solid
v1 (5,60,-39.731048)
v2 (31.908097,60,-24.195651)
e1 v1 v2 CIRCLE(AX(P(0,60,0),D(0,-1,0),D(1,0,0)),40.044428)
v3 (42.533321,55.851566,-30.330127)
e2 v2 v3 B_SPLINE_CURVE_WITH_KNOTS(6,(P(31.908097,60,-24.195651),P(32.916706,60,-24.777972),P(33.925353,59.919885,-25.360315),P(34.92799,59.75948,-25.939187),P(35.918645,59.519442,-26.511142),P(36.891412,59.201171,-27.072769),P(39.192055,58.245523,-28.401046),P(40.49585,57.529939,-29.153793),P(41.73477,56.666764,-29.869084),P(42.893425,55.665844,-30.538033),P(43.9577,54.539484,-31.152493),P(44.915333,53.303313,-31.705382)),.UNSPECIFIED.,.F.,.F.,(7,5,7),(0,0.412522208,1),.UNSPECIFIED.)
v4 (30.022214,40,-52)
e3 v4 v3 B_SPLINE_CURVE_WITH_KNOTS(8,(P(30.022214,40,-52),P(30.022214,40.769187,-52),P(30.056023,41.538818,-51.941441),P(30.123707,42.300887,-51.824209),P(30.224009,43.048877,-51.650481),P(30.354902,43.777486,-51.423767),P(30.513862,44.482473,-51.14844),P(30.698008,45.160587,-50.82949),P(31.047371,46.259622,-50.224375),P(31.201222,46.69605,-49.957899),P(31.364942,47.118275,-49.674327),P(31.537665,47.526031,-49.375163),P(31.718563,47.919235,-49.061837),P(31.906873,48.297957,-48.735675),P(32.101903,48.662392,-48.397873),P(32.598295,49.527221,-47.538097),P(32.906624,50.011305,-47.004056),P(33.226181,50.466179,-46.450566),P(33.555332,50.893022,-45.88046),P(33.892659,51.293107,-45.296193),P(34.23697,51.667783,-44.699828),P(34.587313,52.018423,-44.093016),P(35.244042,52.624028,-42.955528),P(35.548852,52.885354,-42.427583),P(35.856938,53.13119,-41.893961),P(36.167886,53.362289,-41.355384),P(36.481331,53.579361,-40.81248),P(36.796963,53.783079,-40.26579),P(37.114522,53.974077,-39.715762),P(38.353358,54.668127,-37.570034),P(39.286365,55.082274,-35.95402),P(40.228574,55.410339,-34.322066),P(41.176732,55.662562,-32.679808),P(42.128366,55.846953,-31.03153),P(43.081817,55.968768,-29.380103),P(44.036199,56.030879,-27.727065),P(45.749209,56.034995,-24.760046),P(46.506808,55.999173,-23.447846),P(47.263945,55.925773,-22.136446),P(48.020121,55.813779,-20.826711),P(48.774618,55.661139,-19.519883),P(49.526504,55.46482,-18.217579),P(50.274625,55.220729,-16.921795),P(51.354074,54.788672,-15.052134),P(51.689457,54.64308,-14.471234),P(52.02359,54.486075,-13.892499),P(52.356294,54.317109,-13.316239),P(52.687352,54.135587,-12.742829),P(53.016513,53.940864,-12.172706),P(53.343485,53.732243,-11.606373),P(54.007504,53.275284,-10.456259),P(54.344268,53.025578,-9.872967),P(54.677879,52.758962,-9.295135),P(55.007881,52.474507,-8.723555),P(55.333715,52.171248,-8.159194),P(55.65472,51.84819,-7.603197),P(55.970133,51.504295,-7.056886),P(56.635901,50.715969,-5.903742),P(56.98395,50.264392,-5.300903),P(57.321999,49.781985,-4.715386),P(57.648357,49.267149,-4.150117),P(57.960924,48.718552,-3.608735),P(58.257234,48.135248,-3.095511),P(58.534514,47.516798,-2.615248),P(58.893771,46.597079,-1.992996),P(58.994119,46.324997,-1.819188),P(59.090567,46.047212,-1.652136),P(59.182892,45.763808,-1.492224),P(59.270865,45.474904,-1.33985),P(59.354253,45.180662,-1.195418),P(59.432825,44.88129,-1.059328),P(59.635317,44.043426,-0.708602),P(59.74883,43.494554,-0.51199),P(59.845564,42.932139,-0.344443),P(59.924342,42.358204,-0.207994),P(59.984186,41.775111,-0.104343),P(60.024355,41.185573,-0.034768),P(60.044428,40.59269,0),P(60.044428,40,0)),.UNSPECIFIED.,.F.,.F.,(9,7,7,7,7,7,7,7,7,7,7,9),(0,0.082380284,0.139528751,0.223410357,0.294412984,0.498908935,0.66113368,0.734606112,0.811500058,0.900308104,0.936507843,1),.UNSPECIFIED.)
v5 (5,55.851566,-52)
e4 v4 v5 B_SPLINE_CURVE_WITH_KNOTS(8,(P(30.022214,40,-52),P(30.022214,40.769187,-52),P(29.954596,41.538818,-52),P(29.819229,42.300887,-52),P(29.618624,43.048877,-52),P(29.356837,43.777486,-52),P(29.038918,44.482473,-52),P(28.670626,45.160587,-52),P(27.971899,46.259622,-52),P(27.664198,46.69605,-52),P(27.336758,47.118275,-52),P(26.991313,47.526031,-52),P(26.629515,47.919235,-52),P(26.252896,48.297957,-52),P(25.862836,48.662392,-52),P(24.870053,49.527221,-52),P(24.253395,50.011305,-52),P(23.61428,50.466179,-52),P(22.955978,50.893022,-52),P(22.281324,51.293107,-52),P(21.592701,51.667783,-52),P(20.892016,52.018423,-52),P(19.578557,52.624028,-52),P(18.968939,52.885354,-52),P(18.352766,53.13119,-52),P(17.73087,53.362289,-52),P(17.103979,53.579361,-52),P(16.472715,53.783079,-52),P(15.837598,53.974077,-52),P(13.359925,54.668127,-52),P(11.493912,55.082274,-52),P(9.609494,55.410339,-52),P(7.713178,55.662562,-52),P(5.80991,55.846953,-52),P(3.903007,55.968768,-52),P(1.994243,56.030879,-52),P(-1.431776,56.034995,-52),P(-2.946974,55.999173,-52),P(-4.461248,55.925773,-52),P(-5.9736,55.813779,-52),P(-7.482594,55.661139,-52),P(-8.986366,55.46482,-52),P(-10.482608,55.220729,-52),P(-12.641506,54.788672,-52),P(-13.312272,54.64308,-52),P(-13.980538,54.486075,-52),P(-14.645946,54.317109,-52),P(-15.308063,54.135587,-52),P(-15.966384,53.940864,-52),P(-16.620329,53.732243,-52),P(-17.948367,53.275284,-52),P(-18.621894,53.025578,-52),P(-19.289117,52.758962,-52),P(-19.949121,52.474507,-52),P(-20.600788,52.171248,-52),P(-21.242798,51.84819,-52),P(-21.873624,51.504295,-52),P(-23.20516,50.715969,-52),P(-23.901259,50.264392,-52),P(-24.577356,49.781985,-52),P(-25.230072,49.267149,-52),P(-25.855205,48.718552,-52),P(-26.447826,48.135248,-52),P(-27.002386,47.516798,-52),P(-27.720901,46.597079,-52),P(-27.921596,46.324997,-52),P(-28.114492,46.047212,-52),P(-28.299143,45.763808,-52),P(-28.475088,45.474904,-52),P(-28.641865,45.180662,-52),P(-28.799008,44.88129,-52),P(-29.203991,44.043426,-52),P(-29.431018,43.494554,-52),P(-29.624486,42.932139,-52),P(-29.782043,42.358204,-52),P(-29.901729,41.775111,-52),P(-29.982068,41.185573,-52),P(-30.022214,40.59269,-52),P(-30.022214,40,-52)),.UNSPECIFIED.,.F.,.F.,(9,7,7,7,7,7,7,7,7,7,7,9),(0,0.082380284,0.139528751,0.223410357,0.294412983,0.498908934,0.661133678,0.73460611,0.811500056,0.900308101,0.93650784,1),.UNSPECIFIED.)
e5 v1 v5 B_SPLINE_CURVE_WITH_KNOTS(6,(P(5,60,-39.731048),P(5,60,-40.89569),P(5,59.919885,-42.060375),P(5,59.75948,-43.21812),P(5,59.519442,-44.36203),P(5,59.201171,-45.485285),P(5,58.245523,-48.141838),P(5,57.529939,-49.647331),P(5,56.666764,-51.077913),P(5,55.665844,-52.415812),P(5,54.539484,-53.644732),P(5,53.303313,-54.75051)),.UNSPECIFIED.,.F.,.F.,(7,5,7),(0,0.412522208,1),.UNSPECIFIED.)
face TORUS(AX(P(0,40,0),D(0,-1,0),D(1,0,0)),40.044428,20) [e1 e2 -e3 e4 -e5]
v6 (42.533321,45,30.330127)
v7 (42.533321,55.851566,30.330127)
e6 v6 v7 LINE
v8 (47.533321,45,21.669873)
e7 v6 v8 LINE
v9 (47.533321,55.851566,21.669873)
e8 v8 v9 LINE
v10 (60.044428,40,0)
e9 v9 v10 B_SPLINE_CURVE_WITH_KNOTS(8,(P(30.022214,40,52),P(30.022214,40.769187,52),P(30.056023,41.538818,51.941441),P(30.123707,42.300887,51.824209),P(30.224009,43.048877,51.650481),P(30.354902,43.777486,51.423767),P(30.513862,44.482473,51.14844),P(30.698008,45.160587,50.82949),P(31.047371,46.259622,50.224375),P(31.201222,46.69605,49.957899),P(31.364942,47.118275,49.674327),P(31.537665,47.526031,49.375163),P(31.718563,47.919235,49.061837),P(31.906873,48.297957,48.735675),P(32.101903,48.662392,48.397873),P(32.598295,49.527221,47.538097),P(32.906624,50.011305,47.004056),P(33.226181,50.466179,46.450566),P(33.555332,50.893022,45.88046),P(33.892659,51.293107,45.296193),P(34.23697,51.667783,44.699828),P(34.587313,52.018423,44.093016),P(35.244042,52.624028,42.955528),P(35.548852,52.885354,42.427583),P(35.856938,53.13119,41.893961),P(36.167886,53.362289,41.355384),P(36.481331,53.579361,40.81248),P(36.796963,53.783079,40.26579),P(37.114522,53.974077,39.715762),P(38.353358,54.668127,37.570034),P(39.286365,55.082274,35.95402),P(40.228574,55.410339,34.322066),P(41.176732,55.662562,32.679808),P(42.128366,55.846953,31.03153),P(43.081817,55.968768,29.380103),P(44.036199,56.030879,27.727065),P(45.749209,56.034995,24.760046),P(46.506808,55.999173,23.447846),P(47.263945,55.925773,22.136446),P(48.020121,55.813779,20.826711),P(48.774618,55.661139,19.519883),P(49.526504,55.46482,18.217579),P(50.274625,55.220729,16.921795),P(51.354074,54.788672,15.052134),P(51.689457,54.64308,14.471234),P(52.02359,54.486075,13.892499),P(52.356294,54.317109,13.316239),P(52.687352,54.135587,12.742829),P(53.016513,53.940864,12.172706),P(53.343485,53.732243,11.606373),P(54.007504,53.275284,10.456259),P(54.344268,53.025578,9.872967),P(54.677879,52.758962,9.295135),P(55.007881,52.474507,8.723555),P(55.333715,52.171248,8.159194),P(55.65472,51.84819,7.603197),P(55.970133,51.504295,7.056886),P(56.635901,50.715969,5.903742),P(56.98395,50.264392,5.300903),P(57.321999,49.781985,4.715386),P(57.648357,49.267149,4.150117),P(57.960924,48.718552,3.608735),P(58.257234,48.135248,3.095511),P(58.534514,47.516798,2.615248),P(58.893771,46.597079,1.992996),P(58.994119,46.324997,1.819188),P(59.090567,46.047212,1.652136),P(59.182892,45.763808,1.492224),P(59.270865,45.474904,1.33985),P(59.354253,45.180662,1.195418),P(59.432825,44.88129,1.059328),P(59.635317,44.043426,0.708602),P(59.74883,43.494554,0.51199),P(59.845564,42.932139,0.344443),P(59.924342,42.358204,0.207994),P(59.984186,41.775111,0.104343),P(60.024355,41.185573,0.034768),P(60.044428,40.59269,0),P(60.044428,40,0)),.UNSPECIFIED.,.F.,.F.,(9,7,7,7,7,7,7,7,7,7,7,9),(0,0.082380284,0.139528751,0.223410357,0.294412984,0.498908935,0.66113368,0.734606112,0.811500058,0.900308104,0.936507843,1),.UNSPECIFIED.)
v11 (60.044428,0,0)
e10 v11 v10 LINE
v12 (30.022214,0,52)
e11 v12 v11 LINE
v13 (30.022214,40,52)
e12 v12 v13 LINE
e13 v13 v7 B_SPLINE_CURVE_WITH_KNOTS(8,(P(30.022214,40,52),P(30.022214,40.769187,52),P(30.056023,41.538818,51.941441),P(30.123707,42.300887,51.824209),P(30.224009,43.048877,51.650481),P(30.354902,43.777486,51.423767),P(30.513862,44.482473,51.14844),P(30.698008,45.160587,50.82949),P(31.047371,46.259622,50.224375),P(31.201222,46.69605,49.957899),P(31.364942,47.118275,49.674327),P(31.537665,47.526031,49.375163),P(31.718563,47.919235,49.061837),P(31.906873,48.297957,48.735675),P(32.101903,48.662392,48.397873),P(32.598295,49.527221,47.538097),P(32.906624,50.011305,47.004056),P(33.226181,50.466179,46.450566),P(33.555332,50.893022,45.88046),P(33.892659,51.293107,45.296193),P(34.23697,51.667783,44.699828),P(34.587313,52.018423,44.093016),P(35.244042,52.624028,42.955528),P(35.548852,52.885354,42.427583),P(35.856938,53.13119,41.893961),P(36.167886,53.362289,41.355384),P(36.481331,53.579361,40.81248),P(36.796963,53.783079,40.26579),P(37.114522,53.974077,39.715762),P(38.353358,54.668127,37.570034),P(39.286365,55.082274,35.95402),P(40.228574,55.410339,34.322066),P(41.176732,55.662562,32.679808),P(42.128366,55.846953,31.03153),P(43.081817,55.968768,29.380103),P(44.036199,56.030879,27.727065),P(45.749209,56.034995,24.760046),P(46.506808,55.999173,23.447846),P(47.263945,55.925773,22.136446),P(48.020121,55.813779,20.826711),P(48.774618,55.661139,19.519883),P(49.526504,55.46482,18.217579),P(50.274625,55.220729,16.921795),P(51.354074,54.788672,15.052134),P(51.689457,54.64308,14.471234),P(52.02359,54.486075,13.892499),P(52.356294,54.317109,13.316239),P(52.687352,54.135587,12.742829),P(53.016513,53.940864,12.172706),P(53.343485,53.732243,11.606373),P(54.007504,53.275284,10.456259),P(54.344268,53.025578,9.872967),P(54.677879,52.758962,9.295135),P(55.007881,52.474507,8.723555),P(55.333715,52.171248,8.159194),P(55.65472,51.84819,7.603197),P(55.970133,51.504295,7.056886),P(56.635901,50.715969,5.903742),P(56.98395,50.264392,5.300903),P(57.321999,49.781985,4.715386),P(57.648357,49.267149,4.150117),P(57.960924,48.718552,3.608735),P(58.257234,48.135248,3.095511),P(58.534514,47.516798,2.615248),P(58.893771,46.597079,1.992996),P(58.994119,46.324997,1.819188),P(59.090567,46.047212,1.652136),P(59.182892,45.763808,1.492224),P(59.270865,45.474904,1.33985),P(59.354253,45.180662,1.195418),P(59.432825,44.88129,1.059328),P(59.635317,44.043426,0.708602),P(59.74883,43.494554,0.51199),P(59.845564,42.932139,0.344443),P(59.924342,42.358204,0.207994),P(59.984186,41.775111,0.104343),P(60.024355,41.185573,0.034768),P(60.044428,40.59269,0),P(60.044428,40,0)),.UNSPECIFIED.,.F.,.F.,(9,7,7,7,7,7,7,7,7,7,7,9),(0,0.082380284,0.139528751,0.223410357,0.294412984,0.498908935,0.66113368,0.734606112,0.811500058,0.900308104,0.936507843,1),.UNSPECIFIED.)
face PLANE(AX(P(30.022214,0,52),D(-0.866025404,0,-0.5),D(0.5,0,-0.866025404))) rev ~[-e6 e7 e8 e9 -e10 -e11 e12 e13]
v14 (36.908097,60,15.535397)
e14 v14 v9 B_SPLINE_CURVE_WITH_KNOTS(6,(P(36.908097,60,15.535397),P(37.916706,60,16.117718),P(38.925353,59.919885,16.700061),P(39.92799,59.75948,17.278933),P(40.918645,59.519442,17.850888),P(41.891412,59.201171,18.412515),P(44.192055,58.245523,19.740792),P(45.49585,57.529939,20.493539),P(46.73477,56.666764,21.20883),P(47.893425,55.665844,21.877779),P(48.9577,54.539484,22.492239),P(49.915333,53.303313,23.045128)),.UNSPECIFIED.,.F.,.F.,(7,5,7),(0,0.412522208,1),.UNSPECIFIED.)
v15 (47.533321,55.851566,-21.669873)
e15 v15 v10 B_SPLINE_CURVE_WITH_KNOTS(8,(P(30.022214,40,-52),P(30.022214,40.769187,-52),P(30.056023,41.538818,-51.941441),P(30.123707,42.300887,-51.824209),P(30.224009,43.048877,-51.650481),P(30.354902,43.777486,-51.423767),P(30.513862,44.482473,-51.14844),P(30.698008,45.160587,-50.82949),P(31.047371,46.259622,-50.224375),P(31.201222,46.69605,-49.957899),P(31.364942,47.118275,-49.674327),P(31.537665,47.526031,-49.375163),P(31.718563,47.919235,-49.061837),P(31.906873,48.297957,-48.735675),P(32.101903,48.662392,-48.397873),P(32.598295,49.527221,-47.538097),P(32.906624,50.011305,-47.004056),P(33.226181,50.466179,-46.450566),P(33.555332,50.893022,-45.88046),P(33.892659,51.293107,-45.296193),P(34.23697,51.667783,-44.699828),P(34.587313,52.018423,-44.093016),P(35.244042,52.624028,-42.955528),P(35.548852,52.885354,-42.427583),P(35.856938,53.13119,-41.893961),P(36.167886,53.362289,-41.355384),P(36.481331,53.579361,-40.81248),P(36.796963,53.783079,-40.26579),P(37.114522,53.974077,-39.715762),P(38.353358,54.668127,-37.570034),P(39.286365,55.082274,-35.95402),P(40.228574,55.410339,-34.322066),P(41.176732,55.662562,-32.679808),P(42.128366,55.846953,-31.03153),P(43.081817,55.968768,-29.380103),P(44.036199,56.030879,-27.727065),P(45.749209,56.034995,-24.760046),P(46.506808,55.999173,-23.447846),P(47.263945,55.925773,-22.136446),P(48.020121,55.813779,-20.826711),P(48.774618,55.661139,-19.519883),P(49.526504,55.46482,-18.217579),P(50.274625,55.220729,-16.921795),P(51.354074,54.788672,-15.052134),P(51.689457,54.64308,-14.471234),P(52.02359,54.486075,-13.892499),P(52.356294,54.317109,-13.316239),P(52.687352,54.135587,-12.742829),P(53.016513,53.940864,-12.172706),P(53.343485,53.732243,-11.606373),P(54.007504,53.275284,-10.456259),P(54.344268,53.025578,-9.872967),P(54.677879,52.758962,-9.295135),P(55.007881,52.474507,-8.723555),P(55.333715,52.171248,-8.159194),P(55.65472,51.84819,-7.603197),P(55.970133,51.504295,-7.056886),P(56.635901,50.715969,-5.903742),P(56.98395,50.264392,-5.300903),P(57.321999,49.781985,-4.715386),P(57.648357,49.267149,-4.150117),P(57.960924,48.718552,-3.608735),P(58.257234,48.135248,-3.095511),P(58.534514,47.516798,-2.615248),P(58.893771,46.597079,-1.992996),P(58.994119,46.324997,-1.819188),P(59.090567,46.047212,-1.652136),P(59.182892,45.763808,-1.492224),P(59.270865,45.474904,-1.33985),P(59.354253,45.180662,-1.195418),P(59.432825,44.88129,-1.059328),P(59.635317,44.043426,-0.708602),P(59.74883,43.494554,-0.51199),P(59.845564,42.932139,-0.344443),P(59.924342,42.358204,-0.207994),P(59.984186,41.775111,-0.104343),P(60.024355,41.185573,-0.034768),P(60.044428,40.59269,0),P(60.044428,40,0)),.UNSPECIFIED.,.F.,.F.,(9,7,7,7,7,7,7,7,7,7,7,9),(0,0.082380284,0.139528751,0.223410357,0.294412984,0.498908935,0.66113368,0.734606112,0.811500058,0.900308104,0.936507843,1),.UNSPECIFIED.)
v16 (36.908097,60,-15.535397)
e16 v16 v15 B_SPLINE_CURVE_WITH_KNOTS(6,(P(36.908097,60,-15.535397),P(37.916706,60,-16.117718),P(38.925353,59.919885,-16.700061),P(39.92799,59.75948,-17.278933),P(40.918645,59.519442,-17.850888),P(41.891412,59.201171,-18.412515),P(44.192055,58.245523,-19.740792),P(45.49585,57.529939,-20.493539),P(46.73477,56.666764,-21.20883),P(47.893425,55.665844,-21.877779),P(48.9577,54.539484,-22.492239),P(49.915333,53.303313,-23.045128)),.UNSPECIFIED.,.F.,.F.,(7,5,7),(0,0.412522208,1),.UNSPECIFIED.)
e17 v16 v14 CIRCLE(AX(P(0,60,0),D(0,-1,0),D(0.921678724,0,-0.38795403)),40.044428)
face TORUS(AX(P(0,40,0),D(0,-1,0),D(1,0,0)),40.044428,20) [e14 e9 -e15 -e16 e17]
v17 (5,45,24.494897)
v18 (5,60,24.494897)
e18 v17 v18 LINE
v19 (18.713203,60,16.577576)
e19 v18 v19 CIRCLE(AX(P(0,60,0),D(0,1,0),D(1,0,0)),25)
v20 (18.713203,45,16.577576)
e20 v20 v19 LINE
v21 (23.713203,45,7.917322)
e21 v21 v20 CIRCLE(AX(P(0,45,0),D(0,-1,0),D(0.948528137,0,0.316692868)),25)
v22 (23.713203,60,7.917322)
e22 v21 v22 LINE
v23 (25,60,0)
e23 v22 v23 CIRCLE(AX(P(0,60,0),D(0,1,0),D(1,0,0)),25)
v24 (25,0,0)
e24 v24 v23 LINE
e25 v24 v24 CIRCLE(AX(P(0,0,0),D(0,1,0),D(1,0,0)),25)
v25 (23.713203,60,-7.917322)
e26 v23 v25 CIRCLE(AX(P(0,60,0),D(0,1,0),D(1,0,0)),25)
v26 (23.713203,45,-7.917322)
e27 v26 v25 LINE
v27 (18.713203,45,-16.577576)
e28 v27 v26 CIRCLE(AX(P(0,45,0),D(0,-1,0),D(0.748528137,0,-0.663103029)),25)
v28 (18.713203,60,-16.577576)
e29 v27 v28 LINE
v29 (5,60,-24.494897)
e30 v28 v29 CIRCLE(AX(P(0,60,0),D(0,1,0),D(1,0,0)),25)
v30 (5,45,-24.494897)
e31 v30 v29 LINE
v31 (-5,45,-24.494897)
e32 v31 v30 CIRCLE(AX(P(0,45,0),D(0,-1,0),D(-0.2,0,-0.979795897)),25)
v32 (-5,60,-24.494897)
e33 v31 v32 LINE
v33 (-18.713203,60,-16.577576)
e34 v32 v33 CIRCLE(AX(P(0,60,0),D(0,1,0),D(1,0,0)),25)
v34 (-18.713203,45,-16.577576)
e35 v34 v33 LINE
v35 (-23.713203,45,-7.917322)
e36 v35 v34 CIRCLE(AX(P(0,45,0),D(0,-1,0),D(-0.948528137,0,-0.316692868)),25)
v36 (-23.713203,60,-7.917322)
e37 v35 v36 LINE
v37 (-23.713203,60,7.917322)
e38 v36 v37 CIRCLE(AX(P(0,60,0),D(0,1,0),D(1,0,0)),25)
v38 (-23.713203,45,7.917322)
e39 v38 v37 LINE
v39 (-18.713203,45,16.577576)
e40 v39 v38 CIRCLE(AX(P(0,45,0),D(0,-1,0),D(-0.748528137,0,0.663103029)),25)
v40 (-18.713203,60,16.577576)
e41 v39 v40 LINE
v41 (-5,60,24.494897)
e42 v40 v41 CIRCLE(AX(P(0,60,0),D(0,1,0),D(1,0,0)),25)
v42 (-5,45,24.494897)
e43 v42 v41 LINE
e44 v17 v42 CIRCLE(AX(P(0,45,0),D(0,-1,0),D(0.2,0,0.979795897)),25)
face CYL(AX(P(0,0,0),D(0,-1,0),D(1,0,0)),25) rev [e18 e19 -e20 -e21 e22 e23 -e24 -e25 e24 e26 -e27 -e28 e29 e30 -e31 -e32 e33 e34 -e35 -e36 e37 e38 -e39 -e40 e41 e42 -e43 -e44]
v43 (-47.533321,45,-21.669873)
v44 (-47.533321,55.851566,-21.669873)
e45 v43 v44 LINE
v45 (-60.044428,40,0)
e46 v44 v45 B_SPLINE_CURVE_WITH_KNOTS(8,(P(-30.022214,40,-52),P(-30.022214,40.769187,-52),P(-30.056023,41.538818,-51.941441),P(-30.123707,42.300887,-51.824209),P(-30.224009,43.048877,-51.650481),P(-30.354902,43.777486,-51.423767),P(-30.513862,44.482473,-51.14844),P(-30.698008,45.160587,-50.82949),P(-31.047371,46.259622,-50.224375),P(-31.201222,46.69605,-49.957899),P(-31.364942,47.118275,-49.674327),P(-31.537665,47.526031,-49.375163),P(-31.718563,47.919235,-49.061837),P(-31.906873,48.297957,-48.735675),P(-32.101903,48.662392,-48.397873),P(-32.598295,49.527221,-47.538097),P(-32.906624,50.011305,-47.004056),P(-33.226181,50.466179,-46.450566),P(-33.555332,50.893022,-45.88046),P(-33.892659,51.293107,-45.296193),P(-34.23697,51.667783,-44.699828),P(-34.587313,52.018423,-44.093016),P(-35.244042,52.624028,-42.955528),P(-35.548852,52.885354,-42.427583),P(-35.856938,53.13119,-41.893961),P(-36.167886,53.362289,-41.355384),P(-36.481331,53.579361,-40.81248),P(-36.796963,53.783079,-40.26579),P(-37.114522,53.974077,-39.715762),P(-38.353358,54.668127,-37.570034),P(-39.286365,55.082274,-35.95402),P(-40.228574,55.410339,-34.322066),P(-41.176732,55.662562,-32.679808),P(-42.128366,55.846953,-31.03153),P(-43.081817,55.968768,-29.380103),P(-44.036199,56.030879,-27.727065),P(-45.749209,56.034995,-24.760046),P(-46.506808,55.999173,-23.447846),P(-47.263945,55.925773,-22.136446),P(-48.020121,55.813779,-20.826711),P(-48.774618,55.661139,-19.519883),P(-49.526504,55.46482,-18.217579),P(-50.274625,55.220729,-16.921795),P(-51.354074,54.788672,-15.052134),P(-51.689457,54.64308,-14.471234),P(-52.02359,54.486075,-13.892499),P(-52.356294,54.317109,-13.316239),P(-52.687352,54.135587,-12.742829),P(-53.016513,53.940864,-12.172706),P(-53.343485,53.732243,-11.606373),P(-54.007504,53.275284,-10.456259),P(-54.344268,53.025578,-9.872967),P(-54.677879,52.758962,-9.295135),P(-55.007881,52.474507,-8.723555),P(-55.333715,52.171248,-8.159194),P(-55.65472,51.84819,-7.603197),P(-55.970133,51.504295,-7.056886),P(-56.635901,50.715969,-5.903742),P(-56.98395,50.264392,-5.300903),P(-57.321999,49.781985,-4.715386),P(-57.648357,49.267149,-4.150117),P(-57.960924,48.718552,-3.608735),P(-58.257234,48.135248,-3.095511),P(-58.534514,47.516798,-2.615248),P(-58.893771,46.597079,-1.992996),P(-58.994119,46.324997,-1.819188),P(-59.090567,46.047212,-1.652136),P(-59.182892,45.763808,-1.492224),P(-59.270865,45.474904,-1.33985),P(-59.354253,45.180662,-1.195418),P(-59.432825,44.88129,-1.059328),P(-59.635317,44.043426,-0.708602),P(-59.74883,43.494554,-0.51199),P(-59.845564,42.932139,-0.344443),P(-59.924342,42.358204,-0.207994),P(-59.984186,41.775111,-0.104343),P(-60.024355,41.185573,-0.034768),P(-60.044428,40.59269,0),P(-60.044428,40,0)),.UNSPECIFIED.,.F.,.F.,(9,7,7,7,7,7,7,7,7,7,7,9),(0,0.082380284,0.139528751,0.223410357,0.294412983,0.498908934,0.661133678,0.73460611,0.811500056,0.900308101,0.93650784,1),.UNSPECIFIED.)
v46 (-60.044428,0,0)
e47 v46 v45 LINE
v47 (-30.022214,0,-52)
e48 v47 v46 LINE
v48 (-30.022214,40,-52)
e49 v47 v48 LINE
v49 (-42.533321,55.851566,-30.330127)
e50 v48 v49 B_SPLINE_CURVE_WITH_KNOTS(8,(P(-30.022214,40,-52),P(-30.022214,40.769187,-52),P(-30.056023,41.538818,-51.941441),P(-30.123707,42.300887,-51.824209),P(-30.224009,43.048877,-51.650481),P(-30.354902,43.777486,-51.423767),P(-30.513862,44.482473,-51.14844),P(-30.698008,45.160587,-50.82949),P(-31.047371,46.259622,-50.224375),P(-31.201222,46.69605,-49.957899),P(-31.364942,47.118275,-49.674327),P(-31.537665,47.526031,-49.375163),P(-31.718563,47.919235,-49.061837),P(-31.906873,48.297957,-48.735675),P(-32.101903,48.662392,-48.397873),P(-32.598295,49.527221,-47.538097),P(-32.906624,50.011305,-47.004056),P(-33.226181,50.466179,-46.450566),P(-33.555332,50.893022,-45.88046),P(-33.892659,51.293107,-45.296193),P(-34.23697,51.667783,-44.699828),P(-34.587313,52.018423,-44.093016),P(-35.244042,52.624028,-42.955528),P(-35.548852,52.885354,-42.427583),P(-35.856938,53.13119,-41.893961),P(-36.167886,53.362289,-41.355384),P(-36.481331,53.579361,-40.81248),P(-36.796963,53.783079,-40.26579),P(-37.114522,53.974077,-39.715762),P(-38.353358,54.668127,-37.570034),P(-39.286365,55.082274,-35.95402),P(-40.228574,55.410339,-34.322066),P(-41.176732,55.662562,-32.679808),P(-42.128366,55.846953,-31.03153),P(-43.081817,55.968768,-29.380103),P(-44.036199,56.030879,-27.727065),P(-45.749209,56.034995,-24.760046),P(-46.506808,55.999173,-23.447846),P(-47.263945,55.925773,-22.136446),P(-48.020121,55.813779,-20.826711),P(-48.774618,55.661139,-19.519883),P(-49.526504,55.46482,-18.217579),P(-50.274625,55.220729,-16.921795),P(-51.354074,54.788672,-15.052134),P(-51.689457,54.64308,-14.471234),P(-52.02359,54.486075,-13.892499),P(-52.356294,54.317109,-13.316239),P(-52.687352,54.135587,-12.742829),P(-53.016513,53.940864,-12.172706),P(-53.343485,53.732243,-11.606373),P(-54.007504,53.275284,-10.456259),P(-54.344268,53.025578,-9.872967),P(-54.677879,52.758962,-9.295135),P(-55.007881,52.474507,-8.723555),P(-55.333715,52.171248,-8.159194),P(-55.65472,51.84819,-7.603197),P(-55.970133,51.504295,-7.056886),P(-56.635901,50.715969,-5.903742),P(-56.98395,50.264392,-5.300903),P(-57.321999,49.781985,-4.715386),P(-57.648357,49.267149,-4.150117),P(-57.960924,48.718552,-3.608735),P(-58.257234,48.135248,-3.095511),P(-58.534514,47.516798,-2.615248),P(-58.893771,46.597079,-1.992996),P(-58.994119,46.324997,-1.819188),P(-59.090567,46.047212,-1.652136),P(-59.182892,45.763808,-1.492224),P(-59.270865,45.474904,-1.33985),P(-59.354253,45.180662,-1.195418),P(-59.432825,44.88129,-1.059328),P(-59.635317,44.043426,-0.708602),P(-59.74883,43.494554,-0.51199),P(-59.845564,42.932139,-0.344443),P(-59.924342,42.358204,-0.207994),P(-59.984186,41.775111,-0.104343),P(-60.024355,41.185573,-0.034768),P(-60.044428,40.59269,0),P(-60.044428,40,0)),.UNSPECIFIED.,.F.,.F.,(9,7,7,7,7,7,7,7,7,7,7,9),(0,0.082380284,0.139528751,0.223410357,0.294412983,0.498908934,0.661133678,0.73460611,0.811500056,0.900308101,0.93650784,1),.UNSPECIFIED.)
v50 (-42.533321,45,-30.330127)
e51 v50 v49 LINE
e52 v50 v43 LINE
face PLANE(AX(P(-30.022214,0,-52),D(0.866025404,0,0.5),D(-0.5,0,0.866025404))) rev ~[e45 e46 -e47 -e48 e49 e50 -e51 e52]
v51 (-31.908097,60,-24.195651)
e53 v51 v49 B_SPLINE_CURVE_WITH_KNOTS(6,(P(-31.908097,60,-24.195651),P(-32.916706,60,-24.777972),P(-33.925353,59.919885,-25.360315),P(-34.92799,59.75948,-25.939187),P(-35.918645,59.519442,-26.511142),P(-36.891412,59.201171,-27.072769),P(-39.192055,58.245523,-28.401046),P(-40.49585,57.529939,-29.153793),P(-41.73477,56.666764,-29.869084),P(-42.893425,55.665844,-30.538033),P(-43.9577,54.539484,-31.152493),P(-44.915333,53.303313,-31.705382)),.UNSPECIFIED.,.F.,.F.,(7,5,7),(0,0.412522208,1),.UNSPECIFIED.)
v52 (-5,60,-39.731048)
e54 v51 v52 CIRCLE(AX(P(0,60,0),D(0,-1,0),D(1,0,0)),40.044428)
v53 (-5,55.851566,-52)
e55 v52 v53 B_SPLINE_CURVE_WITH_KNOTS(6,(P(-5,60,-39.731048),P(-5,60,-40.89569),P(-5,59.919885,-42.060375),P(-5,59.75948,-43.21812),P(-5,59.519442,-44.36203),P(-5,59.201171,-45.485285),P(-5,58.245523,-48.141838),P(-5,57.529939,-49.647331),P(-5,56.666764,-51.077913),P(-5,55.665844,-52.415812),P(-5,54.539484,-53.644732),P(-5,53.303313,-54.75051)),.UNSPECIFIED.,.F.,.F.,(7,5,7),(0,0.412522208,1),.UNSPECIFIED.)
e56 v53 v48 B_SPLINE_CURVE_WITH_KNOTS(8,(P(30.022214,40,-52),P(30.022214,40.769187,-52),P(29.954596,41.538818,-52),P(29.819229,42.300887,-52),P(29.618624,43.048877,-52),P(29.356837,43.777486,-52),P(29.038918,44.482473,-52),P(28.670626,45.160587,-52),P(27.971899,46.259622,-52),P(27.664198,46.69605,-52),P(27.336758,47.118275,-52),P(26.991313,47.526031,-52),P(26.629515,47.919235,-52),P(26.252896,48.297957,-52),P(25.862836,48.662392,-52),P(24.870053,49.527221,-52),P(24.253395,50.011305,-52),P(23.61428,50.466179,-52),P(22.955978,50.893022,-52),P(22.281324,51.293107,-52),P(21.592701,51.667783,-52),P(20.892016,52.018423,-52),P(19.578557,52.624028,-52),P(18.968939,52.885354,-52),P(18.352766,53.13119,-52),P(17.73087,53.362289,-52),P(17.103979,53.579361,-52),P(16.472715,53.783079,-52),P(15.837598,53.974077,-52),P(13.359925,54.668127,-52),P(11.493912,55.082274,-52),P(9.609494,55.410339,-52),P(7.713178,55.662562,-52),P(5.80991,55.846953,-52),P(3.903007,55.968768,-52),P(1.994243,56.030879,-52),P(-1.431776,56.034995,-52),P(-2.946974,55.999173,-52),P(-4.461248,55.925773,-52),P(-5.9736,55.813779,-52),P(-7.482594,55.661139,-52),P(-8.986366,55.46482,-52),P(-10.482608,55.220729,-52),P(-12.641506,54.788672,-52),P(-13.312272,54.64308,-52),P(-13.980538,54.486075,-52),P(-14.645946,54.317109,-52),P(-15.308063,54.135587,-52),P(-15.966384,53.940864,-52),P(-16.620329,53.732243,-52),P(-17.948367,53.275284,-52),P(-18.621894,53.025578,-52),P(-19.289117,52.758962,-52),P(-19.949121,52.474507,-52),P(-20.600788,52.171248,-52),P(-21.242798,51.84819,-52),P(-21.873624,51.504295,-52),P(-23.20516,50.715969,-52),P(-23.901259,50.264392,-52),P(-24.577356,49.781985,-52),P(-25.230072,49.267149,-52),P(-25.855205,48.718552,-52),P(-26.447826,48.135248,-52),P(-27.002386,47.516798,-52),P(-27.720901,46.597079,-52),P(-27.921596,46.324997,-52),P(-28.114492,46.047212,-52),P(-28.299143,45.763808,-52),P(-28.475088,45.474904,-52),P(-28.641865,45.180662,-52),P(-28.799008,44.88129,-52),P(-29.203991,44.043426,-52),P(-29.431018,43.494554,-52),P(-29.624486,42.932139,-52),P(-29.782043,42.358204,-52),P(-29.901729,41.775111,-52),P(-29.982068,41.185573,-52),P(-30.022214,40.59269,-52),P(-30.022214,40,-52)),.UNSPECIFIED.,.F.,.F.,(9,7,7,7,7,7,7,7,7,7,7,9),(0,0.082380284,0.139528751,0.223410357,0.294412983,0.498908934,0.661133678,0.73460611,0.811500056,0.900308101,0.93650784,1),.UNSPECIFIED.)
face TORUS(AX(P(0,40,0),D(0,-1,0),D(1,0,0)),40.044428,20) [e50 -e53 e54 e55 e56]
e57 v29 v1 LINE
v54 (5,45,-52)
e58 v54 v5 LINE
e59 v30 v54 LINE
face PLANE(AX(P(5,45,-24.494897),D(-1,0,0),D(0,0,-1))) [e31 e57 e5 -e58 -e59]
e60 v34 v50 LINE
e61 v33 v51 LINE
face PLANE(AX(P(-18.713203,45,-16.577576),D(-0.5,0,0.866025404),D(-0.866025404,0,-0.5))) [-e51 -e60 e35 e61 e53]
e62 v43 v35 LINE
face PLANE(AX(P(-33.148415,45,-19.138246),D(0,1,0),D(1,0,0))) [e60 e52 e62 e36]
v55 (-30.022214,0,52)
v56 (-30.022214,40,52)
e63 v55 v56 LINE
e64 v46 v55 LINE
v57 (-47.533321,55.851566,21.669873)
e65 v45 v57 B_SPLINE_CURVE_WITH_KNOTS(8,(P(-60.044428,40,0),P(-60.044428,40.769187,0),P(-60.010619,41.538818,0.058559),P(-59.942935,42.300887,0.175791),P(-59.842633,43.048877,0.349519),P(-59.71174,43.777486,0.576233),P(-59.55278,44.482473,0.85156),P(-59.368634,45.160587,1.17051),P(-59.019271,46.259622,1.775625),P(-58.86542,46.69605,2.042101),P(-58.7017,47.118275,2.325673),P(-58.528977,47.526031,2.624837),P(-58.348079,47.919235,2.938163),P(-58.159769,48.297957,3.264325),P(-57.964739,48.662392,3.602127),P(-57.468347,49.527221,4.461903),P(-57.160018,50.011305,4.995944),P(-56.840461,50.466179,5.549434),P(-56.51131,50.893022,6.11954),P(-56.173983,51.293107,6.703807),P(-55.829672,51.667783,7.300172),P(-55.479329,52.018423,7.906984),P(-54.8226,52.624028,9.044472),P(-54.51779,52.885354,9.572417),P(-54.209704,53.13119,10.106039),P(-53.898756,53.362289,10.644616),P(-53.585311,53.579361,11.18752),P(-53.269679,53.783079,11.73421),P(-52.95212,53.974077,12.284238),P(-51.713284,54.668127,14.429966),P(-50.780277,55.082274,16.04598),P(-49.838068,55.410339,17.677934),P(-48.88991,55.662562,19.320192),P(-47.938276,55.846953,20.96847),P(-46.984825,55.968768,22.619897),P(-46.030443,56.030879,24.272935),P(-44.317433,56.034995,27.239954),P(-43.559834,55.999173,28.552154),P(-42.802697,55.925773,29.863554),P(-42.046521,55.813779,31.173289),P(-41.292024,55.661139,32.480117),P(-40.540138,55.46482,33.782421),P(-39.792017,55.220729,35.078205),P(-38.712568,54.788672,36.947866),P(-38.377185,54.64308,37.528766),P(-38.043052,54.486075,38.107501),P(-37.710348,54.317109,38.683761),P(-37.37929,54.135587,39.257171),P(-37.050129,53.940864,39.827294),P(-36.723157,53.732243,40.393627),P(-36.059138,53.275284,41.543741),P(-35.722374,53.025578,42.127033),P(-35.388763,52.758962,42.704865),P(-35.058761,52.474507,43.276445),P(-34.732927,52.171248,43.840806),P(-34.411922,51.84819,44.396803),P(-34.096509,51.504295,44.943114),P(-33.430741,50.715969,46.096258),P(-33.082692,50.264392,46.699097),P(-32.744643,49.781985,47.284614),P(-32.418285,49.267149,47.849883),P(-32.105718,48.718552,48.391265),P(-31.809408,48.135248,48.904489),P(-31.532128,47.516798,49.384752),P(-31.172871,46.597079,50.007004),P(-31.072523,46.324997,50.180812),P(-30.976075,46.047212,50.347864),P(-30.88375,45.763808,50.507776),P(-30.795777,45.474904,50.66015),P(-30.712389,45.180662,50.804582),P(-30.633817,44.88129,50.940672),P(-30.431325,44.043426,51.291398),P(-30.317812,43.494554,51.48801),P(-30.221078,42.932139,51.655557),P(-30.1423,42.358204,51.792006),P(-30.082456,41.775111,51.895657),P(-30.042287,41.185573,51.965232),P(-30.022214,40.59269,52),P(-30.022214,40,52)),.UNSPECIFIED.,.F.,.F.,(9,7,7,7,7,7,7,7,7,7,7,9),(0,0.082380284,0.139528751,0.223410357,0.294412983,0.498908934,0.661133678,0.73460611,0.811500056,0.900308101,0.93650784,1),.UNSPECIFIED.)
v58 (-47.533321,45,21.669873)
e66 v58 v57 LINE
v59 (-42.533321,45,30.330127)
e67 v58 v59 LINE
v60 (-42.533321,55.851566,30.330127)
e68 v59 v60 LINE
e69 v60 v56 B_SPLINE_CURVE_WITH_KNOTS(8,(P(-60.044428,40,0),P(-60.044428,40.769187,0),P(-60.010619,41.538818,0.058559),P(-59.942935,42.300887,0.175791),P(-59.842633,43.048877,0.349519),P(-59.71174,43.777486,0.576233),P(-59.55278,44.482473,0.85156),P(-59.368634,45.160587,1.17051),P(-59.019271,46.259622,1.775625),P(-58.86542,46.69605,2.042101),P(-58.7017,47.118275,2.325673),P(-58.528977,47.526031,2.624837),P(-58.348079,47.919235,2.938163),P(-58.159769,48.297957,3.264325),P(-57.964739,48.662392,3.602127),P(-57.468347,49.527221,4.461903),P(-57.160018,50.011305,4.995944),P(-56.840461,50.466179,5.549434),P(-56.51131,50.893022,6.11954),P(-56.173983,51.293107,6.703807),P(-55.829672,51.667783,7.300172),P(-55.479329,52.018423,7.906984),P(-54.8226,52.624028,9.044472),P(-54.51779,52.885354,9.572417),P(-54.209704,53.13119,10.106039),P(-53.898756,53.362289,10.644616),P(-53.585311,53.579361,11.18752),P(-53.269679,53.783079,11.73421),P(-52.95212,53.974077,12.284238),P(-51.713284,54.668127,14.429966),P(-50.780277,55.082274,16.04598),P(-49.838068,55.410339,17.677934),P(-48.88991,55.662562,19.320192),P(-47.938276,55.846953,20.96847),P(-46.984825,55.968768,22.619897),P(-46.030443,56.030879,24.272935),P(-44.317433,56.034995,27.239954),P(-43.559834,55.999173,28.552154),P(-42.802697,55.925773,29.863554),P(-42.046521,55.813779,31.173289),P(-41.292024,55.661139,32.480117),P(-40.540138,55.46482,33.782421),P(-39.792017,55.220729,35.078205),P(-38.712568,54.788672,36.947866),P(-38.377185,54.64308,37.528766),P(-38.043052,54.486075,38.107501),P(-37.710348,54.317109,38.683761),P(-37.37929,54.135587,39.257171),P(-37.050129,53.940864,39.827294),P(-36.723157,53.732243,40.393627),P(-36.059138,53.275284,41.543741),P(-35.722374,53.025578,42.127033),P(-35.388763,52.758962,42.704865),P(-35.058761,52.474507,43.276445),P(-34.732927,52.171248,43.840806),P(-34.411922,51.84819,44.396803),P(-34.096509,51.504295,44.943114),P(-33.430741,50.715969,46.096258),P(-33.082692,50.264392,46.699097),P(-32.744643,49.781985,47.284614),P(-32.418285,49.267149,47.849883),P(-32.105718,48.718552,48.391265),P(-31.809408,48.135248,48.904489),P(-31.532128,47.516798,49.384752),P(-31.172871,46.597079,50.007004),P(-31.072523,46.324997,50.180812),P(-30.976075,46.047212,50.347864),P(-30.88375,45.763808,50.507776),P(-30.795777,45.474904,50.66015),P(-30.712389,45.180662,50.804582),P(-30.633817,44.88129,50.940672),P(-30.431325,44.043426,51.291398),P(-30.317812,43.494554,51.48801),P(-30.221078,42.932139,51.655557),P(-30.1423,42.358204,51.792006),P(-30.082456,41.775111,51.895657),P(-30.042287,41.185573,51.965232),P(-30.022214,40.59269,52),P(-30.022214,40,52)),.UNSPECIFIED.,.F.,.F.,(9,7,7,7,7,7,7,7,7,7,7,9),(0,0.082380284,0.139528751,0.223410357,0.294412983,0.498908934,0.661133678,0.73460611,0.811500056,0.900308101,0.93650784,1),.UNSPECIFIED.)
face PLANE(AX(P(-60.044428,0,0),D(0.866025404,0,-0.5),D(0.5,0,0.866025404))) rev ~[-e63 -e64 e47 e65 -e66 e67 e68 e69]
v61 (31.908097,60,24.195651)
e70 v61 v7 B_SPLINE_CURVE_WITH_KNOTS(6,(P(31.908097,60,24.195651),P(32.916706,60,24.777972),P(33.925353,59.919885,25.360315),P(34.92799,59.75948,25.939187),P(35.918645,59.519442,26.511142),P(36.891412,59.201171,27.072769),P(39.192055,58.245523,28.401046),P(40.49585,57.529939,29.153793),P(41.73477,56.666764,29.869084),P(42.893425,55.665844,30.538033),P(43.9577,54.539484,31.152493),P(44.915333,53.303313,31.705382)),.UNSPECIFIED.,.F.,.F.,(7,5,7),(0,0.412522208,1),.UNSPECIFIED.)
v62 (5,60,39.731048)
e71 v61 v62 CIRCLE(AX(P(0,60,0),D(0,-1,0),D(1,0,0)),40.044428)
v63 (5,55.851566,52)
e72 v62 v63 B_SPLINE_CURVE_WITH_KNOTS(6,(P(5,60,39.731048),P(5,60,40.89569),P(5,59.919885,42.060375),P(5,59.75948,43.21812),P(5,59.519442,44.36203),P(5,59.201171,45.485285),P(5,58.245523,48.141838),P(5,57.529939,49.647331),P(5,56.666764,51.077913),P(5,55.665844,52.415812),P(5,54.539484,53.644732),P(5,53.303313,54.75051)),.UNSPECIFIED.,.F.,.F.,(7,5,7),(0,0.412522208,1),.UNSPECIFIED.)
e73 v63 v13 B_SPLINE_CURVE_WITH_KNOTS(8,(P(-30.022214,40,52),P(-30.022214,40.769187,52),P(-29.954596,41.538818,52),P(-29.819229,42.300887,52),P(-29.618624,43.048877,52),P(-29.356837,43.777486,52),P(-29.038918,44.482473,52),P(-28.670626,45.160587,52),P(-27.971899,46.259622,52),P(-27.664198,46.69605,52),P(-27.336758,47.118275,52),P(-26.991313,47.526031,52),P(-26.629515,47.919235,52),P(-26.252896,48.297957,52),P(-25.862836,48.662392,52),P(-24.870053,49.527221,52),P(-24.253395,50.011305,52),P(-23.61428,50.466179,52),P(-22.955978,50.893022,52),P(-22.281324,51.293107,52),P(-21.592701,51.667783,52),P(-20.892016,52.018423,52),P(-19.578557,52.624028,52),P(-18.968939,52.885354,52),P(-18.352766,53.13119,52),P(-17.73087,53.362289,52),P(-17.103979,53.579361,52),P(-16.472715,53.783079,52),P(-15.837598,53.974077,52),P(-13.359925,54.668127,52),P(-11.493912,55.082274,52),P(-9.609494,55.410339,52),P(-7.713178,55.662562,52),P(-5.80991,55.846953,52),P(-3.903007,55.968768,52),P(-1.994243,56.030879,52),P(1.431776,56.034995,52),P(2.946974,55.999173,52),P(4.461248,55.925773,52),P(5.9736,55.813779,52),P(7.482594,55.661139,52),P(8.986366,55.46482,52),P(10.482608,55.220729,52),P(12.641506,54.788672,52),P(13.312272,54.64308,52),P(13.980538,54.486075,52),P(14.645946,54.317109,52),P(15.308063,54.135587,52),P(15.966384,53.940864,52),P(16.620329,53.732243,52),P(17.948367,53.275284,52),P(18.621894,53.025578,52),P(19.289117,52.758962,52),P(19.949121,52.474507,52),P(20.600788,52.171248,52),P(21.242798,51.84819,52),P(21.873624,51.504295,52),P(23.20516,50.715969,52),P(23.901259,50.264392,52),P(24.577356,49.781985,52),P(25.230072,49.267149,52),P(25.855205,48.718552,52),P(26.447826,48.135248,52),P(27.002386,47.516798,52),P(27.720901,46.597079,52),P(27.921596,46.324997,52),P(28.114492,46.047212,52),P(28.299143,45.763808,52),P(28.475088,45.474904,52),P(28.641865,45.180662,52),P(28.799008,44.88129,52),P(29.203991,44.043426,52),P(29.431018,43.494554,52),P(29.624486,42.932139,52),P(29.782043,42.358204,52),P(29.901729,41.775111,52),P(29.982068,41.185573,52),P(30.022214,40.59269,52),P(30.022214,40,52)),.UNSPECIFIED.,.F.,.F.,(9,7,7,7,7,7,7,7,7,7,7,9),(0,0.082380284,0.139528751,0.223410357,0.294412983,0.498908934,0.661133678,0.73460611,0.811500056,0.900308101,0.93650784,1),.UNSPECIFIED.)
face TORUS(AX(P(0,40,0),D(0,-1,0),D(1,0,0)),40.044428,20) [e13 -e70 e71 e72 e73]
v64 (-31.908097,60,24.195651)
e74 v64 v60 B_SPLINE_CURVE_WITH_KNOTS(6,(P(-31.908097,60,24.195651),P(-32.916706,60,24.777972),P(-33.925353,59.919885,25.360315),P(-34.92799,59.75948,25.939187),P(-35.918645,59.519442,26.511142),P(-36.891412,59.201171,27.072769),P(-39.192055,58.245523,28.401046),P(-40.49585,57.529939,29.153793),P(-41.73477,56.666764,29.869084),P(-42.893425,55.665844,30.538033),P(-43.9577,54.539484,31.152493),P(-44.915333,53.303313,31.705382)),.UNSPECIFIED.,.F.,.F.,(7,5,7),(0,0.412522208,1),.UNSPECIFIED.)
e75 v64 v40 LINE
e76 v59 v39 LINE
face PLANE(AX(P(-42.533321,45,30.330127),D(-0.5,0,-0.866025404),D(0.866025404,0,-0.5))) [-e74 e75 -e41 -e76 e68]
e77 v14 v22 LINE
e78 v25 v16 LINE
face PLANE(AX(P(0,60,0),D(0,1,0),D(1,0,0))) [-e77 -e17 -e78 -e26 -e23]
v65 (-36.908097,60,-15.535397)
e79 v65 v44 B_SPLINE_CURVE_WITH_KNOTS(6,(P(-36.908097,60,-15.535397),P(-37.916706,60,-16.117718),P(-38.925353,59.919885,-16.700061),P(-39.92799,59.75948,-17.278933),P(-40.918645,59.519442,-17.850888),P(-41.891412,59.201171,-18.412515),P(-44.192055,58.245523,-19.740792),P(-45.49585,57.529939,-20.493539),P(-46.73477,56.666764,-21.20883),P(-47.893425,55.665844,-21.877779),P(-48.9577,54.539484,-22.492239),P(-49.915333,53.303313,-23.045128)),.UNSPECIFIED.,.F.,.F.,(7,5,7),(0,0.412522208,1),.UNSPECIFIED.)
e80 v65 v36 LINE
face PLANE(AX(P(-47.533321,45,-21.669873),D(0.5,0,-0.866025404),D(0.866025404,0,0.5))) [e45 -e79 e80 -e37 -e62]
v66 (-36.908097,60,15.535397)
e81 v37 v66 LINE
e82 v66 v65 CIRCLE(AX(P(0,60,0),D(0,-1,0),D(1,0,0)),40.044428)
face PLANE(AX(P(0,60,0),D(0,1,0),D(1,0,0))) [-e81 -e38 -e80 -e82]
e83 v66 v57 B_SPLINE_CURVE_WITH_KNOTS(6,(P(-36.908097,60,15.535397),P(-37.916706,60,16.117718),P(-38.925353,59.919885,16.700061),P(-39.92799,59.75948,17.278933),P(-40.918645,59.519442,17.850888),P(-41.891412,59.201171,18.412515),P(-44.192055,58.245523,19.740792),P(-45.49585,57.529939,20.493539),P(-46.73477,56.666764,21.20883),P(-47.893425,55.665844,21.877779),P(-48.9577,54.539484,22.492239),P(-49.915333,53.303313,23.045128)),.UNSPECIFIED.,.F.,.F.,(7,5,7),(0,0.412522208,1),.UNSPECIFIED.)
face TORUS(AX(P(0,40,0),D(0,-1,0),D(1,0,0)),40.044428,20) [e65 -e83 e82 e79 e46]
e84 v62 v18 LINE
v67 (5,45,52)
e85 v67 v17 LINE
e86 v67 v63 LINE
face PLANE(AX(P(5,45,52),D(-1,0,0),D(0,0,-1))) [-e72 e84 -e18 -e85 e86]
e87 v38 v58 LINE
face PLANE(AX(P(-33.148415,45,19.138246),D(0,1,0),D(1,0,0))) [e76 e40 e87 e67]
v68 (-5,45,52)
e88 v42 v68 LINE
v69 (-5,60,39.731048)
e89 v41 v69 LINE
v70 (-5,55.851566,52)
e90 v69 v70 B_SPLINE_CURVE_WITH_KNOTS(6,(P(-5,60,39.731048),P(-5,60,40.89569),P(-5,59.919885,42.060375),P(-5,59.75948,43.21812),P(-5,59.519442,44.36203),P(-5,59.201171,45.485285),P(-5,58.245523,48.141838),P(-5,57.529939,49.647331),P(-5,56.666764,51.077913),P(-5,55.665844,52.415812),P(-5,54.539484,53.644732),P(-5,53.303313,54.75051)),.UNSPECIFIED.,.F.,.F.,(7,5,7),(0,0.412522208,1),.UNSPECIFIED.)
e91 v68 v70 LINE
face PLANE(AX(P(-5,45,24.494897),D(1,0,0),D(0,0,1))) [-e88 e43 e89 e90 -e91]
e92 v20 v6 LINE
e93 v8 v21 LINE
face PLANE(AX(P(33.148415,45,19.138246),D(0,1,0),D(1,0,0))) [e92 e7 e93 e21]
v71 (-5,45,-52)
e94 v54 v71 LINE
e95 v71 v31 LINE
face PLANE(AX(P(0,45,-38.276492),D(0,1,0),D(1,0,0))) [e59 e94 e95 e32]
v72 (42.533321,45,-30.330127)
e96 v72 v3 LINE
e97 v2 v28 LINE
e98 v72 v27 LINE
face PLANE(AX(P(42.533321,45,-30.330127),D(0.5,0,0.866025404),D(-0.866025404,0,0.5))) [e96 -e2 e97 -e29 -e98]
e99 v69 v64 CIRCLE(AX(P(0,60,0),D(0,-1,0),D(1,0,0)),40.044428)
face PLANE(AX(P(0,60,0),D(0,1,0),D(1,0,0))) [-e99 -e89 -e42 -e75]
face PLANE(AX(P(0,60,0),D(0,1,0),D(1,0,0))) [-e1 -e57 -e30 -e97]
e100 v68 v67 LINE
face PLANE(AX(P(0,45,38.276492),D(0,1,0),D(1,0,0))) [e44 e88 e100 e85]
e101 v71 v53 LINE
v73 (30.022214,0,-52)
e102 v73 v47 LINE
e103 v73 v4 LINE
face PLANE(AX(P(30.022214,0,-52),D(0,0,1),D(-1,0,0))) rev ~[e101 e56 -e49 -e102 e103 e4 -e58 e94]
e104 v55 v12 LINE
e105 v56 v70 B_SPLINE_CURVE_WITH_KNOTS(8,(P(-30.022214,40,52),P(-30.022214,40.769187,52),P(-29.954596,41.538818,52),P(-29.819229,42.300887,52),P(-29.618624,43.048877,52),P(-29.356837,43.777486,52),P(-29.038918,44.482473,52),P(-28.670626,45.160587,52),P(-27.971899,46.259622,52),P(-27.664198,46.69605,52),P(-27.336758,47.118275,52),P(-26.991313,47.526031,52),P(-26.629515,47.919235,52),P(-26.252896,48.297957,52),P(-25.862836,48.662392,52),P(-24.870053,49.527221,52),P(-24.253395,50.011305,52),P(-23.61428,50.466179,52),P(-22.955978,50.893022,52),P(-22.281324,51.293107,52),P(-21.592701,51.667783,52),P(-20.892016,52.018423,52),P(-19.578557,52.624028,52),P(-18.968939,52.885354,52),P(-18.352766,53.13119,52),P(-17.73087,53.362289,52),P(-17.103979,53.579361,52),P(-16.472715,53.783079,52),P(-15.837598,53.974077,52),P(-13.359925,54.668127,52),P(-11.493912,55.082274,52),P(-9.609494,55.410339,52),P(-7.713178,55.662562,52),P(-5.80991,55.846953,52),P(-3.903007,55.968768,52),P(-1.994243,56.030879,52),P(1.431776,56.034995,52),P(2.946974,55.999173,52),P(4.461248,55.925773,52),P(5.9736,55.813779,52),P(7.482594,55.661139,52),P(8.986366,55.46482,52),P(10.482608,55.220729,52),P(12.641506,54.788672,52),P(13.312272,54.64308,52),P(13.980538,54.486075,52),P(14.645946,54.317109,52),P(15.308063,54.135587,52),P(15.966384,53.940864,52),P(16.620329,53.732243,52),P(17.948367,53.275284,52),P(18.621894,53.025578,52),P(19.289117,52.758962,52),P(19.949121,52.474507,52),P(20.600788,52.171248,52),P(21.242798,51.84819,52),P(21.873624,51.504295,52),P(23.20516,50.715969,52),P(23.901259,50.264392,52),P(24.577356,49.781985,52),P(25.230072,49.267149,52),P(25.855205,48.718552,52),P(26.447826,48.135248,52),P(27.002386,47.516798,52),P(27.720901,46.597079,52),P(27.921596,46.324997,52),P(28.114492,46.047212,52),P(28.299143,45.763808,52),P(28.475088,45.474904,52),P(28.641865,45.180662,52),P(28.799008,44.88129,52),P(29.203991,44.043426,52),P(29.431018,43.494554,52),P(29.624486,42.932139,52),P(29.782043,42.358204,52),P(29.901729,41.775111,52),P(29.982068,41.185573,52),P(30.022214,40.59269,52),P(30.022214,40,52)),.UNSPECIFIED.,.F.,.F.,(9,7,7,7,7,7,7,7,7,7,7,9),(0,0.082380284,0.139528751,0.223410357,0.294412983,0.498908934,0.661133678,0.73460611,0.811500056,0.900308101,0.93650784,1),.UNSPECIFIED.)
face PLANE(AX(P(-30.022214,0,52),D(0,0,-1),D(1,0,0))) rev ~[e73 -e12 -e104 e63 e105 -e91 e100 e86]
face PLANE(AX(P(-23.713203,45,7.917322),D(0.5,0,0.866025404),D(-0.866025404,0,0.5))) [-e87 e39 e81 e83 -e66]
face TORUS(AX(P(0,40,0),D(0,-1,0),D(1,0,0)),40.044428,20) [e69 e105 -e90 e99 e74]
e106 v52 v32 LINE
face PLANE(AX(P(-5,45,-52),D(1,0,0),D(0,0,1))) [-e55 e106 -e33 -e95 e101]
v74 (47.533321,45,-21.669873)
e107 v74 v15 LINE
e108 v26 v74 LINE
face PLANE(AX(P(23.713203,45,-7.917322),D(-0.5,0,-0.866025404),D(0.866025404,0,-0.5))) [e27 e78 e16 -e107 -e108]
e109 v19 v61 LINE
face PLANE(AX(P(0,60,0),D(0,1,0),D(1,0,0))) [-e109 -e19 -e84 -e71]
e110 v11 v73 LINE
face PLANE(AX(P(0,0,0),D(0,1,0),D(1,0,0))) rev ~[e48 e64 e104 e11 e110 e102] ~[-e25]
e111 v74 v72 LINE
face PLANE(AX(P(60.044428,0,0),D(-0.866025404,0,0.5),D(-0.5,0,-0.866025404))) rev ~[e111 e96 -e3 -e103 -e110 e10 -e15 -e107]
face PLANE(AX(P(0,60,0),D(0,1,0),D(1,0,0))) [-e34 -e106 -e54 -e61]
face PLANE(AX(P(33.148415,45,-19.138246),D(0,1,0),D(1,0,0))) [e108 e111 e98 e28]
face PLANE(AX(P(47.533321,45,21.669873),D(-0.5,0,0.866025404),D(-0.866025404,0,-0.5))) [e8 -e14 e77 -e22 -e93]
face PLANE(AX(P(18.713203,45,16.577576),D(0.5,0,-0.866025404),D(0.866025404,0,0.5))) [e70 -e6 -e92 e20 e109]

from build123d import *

# Parameters (mm, degrees)
SKETCH1_R           = 25
BOSS_EXTRUDE1_DEPTH = 60
CUT_EXTRUDE1_REACH  = 107
CUT_EXTRUDE1_START  = 45


with BuildPart() as part:
    # Sketch1 → Boss-Extrude1 (new body)
    with BuildSketch(Plane(origin=(0, 0, 0), x_dir=(1, 0, 0), z_dir=(0, 1, 0))):
        Polygon((60.044427996, 0), (30.022213998, 52), (-30.022213998, 52), (-60.044427996, 0), (-30.022213998, -52), (30.022213998, -52), align=None)
        Circle(SKETCH1_R, mode=Mode.SUBTRACT)
    extrude(amount=BOSS_EXTRUDE1_DEPTH)

    # Sketch2 → Cut-Extrude1 (cut, up to next)
    with BuildSketch(Plane(origin=(0, 0, 0), x_dir=(1, 0, 0), z_dir=(0, 1, 0)).offset(CUT_EXTRUDE1_START), mode=Mode.PRIVATE) as cut_extrude1_sk1:
        with BuildLine():
            Line((-47.533320997, -21.669872981), (-42.533320997, -30.330127019))
            Line((-42.533320997, -30.330127019), (-18.713203436, -16.577575733))
            ThreePointArc((-18.713203436, -16.577575733), (-21.650635095, -12.5), (-23.713203436, -7.917321695))
            Line((-23.713203436, -7.917321695), (-47.533320997, -21.669872981))
        make_face()
    cut_extrude1_tool1 = extrude(cut_extrude1_sk1.sketch, amount=CUT_EXTRUDE1_REACH, mode=Mode.PRIVATE) & part.part
    add(cut_extrude1_tool1.solids().sort_by_distance((-33.26901, 45, 19.207872))[0], mode=Mode.SUBTRACT)
    # Sketch2 → Cut-Extrude1 (cut, up to next)
    with BuildSketch(Plane(origin=(0, 0, 0), x_dir=(1, 0, 0), z_dir=(0, 1, 0)).offset(CUT_EXTRUDE1_START), mode=Mode.PRIVATE) as cut_extrude1_sk2:
        with BuildLine():
            Line((-5, -52), (5, -52))
            Line((5, -52), (5, -24.494897428))
            ThreePointArc((5, -24.494897428), (0, -25), (-5, -24.494897428))
            Line((-5, -24.494897428), (-5, -52))
        make_face()
    cut_extrude1_tool2 = extrude(cut_extrude1_sk2.sketch, amount=CUT_EXTRUDE1_REACH, mode=Mode.PRIVATE) & part.part
    add(cut_extrude1_tool2.solids().sort_by_distance((0, 45, 38.415743))[0], mode=Mode.SUBTRACT)
    # Sketch2 → Cut-Extrude1 (cut, up to next)
    with BuildSketch(Plane(origin=(0, 0, 0), x_dir=(1, 0, 0), z_dir=(0, 1, 0)).offset(CUT_EXTRUDE1_START), mode=Mode.PRIVATE) as cut_extrude1_sk3:
        with BuildLine():
            Line((42.533320997, -30.330127019), (47.533320997, -21.669872981))
            Line((47.533320997, -21.669872981), (23.713203436, -7.917321695))
            ThreePointArc((23.713203436, -7.917321695), (21.650635095, -12.5), (18.713203436, -16.577575733))
            Line((18.713203436, -16.577575733), (42.533320997, -30.330127019))
        make_face()
    cut_extrude1_tool3 = extrude(cut_extrude1_sk3.sketch, amount=CUT_EXTRUDE1_REACH, mode=Mode.PRIVATE) & part.part
    add(cut_extrude1_tool3.solids().sort_by_distance((33.26901, 45, 19.207872))[0], mode=Mode.SUBTRACT)
    # Sketch2 → Cut-Extrude1 (cut, up to next)
    with BuildSketch(Plane(origin=(0, 0, 0), x_dir=(1, 0, 0), z_dir=(0, 1, 0)).offset(CUT_EXTRUDE1_START), mode=Mode.PRIVATE) as cut_extrude1_sk4:
        with BuildLine():
            Line((47.533320997, 21.669872981), (42.533320997, 30.330127019))
            Line((42.533320997, 30.330127019), (18.713203436, 16.577575733))
            ThreePointArc((18.713203436, 16.577575733), (21.650635095, 12.5), (23.713203436, 7.917321695))
            Line((23.713203436, 7.917321695), (47.533320997, 21.669872981))
        make_face()
    cut_extrude1_tool4 = extrude(cut_extrude1_sk4.sketch, amount=CUT_EXTRUDE1_REACH, mode=Mode.PRIVATE) & part.part
    add(cut_extrude1_tool4.solids().sort_by_distance((33.26901, 45, -19.207872))[0], mode=Mode.SUBTRACT)
    # Sketch2 → Cut-Extrude1 (cut, up to next)
    with BuildSketch(Plane(origin=(0, 0, 0), x_dir=(1, 0, 0), z_dir=(0, 1, 0)).offset(CUT_EXTRUDE1_START), mode=Mode.PRIVATE) as cut_extrude1_sk5:
        with BuildLine():
            Line((5, 52), (-5, 52))
            Line((-5, 52), (-5, 24.494897428))
            ThreePointArc((-5, 24.494897428), (0, 25), (5, 24.494897428))
            Line((5, 24.494897428), (5, 52))
        make_face()
    cut_extrude1_tool5 = extrude(cut_extrude1_sk5.sketch, amount=CUT_EXTRUDE1_REACH, mode=Mode.PRIVATE) & part.part
    add(cut_extrude1_tool5.solids().sort_by_distance((0, 45, -38.415743))[0], mode=Mode.SUBTRACT)
    # Sketch2 → Cut-Extrude1 (cut, up to next)
    with BuildSketch(Plane(origin=(0, 0, 0), x_dir=(1, 0, 0), z_dir=(0, 1, 0)).offset(CUT_EXTRUDE1_START), mode=Mode.PRIVATE) as cut_extrude1_sk6:
        with BuildLine():
            Line((-42.533320997, 30.330127019), (-47.533320997, 21.669872981))
            Line((-47.533320997, 21.669872981), (-23.713203436, 7.917321695))
            ThreePointArc((-23.713203436, 7.917321695), (-21.650635095, 12.5), (-18.713203436, 16.577575733))
            Line((-18.713203436, 16.577575733), (-42.533320997, 30.330127019))
        make_face()
    cut_extrude1_tool6 = extrude(cut_extrude1_sk6.sketch, amount=CUT_EXTRUDE1_REACH, mode=Mode.PRIVATE) & part.part
    add(cut_extrude1_tool6.solids().sort_by_distance((-33.26901, 45, -19.207872))[0], mode=Mode.SUBTRACT)

    # Sketch3 → Cut-Revolve1 (revolve, cut)
    with BuildSketch(Plane.XY):
        with BuildLine():
            Line((60.044427996, 40), (60.044427996, 60))
            Line((60.044427996, 60), (40.044427996, 60))
            ThreePointArc((40.044427996, 60), (54.186563619, 54.142135624), (60.044427996, 40))
        make_face()
    revolve(axis=Axis((0, 0, 0), (0, -1, 0)), mode=Mode.SUBTRACT)


solid = part.part
